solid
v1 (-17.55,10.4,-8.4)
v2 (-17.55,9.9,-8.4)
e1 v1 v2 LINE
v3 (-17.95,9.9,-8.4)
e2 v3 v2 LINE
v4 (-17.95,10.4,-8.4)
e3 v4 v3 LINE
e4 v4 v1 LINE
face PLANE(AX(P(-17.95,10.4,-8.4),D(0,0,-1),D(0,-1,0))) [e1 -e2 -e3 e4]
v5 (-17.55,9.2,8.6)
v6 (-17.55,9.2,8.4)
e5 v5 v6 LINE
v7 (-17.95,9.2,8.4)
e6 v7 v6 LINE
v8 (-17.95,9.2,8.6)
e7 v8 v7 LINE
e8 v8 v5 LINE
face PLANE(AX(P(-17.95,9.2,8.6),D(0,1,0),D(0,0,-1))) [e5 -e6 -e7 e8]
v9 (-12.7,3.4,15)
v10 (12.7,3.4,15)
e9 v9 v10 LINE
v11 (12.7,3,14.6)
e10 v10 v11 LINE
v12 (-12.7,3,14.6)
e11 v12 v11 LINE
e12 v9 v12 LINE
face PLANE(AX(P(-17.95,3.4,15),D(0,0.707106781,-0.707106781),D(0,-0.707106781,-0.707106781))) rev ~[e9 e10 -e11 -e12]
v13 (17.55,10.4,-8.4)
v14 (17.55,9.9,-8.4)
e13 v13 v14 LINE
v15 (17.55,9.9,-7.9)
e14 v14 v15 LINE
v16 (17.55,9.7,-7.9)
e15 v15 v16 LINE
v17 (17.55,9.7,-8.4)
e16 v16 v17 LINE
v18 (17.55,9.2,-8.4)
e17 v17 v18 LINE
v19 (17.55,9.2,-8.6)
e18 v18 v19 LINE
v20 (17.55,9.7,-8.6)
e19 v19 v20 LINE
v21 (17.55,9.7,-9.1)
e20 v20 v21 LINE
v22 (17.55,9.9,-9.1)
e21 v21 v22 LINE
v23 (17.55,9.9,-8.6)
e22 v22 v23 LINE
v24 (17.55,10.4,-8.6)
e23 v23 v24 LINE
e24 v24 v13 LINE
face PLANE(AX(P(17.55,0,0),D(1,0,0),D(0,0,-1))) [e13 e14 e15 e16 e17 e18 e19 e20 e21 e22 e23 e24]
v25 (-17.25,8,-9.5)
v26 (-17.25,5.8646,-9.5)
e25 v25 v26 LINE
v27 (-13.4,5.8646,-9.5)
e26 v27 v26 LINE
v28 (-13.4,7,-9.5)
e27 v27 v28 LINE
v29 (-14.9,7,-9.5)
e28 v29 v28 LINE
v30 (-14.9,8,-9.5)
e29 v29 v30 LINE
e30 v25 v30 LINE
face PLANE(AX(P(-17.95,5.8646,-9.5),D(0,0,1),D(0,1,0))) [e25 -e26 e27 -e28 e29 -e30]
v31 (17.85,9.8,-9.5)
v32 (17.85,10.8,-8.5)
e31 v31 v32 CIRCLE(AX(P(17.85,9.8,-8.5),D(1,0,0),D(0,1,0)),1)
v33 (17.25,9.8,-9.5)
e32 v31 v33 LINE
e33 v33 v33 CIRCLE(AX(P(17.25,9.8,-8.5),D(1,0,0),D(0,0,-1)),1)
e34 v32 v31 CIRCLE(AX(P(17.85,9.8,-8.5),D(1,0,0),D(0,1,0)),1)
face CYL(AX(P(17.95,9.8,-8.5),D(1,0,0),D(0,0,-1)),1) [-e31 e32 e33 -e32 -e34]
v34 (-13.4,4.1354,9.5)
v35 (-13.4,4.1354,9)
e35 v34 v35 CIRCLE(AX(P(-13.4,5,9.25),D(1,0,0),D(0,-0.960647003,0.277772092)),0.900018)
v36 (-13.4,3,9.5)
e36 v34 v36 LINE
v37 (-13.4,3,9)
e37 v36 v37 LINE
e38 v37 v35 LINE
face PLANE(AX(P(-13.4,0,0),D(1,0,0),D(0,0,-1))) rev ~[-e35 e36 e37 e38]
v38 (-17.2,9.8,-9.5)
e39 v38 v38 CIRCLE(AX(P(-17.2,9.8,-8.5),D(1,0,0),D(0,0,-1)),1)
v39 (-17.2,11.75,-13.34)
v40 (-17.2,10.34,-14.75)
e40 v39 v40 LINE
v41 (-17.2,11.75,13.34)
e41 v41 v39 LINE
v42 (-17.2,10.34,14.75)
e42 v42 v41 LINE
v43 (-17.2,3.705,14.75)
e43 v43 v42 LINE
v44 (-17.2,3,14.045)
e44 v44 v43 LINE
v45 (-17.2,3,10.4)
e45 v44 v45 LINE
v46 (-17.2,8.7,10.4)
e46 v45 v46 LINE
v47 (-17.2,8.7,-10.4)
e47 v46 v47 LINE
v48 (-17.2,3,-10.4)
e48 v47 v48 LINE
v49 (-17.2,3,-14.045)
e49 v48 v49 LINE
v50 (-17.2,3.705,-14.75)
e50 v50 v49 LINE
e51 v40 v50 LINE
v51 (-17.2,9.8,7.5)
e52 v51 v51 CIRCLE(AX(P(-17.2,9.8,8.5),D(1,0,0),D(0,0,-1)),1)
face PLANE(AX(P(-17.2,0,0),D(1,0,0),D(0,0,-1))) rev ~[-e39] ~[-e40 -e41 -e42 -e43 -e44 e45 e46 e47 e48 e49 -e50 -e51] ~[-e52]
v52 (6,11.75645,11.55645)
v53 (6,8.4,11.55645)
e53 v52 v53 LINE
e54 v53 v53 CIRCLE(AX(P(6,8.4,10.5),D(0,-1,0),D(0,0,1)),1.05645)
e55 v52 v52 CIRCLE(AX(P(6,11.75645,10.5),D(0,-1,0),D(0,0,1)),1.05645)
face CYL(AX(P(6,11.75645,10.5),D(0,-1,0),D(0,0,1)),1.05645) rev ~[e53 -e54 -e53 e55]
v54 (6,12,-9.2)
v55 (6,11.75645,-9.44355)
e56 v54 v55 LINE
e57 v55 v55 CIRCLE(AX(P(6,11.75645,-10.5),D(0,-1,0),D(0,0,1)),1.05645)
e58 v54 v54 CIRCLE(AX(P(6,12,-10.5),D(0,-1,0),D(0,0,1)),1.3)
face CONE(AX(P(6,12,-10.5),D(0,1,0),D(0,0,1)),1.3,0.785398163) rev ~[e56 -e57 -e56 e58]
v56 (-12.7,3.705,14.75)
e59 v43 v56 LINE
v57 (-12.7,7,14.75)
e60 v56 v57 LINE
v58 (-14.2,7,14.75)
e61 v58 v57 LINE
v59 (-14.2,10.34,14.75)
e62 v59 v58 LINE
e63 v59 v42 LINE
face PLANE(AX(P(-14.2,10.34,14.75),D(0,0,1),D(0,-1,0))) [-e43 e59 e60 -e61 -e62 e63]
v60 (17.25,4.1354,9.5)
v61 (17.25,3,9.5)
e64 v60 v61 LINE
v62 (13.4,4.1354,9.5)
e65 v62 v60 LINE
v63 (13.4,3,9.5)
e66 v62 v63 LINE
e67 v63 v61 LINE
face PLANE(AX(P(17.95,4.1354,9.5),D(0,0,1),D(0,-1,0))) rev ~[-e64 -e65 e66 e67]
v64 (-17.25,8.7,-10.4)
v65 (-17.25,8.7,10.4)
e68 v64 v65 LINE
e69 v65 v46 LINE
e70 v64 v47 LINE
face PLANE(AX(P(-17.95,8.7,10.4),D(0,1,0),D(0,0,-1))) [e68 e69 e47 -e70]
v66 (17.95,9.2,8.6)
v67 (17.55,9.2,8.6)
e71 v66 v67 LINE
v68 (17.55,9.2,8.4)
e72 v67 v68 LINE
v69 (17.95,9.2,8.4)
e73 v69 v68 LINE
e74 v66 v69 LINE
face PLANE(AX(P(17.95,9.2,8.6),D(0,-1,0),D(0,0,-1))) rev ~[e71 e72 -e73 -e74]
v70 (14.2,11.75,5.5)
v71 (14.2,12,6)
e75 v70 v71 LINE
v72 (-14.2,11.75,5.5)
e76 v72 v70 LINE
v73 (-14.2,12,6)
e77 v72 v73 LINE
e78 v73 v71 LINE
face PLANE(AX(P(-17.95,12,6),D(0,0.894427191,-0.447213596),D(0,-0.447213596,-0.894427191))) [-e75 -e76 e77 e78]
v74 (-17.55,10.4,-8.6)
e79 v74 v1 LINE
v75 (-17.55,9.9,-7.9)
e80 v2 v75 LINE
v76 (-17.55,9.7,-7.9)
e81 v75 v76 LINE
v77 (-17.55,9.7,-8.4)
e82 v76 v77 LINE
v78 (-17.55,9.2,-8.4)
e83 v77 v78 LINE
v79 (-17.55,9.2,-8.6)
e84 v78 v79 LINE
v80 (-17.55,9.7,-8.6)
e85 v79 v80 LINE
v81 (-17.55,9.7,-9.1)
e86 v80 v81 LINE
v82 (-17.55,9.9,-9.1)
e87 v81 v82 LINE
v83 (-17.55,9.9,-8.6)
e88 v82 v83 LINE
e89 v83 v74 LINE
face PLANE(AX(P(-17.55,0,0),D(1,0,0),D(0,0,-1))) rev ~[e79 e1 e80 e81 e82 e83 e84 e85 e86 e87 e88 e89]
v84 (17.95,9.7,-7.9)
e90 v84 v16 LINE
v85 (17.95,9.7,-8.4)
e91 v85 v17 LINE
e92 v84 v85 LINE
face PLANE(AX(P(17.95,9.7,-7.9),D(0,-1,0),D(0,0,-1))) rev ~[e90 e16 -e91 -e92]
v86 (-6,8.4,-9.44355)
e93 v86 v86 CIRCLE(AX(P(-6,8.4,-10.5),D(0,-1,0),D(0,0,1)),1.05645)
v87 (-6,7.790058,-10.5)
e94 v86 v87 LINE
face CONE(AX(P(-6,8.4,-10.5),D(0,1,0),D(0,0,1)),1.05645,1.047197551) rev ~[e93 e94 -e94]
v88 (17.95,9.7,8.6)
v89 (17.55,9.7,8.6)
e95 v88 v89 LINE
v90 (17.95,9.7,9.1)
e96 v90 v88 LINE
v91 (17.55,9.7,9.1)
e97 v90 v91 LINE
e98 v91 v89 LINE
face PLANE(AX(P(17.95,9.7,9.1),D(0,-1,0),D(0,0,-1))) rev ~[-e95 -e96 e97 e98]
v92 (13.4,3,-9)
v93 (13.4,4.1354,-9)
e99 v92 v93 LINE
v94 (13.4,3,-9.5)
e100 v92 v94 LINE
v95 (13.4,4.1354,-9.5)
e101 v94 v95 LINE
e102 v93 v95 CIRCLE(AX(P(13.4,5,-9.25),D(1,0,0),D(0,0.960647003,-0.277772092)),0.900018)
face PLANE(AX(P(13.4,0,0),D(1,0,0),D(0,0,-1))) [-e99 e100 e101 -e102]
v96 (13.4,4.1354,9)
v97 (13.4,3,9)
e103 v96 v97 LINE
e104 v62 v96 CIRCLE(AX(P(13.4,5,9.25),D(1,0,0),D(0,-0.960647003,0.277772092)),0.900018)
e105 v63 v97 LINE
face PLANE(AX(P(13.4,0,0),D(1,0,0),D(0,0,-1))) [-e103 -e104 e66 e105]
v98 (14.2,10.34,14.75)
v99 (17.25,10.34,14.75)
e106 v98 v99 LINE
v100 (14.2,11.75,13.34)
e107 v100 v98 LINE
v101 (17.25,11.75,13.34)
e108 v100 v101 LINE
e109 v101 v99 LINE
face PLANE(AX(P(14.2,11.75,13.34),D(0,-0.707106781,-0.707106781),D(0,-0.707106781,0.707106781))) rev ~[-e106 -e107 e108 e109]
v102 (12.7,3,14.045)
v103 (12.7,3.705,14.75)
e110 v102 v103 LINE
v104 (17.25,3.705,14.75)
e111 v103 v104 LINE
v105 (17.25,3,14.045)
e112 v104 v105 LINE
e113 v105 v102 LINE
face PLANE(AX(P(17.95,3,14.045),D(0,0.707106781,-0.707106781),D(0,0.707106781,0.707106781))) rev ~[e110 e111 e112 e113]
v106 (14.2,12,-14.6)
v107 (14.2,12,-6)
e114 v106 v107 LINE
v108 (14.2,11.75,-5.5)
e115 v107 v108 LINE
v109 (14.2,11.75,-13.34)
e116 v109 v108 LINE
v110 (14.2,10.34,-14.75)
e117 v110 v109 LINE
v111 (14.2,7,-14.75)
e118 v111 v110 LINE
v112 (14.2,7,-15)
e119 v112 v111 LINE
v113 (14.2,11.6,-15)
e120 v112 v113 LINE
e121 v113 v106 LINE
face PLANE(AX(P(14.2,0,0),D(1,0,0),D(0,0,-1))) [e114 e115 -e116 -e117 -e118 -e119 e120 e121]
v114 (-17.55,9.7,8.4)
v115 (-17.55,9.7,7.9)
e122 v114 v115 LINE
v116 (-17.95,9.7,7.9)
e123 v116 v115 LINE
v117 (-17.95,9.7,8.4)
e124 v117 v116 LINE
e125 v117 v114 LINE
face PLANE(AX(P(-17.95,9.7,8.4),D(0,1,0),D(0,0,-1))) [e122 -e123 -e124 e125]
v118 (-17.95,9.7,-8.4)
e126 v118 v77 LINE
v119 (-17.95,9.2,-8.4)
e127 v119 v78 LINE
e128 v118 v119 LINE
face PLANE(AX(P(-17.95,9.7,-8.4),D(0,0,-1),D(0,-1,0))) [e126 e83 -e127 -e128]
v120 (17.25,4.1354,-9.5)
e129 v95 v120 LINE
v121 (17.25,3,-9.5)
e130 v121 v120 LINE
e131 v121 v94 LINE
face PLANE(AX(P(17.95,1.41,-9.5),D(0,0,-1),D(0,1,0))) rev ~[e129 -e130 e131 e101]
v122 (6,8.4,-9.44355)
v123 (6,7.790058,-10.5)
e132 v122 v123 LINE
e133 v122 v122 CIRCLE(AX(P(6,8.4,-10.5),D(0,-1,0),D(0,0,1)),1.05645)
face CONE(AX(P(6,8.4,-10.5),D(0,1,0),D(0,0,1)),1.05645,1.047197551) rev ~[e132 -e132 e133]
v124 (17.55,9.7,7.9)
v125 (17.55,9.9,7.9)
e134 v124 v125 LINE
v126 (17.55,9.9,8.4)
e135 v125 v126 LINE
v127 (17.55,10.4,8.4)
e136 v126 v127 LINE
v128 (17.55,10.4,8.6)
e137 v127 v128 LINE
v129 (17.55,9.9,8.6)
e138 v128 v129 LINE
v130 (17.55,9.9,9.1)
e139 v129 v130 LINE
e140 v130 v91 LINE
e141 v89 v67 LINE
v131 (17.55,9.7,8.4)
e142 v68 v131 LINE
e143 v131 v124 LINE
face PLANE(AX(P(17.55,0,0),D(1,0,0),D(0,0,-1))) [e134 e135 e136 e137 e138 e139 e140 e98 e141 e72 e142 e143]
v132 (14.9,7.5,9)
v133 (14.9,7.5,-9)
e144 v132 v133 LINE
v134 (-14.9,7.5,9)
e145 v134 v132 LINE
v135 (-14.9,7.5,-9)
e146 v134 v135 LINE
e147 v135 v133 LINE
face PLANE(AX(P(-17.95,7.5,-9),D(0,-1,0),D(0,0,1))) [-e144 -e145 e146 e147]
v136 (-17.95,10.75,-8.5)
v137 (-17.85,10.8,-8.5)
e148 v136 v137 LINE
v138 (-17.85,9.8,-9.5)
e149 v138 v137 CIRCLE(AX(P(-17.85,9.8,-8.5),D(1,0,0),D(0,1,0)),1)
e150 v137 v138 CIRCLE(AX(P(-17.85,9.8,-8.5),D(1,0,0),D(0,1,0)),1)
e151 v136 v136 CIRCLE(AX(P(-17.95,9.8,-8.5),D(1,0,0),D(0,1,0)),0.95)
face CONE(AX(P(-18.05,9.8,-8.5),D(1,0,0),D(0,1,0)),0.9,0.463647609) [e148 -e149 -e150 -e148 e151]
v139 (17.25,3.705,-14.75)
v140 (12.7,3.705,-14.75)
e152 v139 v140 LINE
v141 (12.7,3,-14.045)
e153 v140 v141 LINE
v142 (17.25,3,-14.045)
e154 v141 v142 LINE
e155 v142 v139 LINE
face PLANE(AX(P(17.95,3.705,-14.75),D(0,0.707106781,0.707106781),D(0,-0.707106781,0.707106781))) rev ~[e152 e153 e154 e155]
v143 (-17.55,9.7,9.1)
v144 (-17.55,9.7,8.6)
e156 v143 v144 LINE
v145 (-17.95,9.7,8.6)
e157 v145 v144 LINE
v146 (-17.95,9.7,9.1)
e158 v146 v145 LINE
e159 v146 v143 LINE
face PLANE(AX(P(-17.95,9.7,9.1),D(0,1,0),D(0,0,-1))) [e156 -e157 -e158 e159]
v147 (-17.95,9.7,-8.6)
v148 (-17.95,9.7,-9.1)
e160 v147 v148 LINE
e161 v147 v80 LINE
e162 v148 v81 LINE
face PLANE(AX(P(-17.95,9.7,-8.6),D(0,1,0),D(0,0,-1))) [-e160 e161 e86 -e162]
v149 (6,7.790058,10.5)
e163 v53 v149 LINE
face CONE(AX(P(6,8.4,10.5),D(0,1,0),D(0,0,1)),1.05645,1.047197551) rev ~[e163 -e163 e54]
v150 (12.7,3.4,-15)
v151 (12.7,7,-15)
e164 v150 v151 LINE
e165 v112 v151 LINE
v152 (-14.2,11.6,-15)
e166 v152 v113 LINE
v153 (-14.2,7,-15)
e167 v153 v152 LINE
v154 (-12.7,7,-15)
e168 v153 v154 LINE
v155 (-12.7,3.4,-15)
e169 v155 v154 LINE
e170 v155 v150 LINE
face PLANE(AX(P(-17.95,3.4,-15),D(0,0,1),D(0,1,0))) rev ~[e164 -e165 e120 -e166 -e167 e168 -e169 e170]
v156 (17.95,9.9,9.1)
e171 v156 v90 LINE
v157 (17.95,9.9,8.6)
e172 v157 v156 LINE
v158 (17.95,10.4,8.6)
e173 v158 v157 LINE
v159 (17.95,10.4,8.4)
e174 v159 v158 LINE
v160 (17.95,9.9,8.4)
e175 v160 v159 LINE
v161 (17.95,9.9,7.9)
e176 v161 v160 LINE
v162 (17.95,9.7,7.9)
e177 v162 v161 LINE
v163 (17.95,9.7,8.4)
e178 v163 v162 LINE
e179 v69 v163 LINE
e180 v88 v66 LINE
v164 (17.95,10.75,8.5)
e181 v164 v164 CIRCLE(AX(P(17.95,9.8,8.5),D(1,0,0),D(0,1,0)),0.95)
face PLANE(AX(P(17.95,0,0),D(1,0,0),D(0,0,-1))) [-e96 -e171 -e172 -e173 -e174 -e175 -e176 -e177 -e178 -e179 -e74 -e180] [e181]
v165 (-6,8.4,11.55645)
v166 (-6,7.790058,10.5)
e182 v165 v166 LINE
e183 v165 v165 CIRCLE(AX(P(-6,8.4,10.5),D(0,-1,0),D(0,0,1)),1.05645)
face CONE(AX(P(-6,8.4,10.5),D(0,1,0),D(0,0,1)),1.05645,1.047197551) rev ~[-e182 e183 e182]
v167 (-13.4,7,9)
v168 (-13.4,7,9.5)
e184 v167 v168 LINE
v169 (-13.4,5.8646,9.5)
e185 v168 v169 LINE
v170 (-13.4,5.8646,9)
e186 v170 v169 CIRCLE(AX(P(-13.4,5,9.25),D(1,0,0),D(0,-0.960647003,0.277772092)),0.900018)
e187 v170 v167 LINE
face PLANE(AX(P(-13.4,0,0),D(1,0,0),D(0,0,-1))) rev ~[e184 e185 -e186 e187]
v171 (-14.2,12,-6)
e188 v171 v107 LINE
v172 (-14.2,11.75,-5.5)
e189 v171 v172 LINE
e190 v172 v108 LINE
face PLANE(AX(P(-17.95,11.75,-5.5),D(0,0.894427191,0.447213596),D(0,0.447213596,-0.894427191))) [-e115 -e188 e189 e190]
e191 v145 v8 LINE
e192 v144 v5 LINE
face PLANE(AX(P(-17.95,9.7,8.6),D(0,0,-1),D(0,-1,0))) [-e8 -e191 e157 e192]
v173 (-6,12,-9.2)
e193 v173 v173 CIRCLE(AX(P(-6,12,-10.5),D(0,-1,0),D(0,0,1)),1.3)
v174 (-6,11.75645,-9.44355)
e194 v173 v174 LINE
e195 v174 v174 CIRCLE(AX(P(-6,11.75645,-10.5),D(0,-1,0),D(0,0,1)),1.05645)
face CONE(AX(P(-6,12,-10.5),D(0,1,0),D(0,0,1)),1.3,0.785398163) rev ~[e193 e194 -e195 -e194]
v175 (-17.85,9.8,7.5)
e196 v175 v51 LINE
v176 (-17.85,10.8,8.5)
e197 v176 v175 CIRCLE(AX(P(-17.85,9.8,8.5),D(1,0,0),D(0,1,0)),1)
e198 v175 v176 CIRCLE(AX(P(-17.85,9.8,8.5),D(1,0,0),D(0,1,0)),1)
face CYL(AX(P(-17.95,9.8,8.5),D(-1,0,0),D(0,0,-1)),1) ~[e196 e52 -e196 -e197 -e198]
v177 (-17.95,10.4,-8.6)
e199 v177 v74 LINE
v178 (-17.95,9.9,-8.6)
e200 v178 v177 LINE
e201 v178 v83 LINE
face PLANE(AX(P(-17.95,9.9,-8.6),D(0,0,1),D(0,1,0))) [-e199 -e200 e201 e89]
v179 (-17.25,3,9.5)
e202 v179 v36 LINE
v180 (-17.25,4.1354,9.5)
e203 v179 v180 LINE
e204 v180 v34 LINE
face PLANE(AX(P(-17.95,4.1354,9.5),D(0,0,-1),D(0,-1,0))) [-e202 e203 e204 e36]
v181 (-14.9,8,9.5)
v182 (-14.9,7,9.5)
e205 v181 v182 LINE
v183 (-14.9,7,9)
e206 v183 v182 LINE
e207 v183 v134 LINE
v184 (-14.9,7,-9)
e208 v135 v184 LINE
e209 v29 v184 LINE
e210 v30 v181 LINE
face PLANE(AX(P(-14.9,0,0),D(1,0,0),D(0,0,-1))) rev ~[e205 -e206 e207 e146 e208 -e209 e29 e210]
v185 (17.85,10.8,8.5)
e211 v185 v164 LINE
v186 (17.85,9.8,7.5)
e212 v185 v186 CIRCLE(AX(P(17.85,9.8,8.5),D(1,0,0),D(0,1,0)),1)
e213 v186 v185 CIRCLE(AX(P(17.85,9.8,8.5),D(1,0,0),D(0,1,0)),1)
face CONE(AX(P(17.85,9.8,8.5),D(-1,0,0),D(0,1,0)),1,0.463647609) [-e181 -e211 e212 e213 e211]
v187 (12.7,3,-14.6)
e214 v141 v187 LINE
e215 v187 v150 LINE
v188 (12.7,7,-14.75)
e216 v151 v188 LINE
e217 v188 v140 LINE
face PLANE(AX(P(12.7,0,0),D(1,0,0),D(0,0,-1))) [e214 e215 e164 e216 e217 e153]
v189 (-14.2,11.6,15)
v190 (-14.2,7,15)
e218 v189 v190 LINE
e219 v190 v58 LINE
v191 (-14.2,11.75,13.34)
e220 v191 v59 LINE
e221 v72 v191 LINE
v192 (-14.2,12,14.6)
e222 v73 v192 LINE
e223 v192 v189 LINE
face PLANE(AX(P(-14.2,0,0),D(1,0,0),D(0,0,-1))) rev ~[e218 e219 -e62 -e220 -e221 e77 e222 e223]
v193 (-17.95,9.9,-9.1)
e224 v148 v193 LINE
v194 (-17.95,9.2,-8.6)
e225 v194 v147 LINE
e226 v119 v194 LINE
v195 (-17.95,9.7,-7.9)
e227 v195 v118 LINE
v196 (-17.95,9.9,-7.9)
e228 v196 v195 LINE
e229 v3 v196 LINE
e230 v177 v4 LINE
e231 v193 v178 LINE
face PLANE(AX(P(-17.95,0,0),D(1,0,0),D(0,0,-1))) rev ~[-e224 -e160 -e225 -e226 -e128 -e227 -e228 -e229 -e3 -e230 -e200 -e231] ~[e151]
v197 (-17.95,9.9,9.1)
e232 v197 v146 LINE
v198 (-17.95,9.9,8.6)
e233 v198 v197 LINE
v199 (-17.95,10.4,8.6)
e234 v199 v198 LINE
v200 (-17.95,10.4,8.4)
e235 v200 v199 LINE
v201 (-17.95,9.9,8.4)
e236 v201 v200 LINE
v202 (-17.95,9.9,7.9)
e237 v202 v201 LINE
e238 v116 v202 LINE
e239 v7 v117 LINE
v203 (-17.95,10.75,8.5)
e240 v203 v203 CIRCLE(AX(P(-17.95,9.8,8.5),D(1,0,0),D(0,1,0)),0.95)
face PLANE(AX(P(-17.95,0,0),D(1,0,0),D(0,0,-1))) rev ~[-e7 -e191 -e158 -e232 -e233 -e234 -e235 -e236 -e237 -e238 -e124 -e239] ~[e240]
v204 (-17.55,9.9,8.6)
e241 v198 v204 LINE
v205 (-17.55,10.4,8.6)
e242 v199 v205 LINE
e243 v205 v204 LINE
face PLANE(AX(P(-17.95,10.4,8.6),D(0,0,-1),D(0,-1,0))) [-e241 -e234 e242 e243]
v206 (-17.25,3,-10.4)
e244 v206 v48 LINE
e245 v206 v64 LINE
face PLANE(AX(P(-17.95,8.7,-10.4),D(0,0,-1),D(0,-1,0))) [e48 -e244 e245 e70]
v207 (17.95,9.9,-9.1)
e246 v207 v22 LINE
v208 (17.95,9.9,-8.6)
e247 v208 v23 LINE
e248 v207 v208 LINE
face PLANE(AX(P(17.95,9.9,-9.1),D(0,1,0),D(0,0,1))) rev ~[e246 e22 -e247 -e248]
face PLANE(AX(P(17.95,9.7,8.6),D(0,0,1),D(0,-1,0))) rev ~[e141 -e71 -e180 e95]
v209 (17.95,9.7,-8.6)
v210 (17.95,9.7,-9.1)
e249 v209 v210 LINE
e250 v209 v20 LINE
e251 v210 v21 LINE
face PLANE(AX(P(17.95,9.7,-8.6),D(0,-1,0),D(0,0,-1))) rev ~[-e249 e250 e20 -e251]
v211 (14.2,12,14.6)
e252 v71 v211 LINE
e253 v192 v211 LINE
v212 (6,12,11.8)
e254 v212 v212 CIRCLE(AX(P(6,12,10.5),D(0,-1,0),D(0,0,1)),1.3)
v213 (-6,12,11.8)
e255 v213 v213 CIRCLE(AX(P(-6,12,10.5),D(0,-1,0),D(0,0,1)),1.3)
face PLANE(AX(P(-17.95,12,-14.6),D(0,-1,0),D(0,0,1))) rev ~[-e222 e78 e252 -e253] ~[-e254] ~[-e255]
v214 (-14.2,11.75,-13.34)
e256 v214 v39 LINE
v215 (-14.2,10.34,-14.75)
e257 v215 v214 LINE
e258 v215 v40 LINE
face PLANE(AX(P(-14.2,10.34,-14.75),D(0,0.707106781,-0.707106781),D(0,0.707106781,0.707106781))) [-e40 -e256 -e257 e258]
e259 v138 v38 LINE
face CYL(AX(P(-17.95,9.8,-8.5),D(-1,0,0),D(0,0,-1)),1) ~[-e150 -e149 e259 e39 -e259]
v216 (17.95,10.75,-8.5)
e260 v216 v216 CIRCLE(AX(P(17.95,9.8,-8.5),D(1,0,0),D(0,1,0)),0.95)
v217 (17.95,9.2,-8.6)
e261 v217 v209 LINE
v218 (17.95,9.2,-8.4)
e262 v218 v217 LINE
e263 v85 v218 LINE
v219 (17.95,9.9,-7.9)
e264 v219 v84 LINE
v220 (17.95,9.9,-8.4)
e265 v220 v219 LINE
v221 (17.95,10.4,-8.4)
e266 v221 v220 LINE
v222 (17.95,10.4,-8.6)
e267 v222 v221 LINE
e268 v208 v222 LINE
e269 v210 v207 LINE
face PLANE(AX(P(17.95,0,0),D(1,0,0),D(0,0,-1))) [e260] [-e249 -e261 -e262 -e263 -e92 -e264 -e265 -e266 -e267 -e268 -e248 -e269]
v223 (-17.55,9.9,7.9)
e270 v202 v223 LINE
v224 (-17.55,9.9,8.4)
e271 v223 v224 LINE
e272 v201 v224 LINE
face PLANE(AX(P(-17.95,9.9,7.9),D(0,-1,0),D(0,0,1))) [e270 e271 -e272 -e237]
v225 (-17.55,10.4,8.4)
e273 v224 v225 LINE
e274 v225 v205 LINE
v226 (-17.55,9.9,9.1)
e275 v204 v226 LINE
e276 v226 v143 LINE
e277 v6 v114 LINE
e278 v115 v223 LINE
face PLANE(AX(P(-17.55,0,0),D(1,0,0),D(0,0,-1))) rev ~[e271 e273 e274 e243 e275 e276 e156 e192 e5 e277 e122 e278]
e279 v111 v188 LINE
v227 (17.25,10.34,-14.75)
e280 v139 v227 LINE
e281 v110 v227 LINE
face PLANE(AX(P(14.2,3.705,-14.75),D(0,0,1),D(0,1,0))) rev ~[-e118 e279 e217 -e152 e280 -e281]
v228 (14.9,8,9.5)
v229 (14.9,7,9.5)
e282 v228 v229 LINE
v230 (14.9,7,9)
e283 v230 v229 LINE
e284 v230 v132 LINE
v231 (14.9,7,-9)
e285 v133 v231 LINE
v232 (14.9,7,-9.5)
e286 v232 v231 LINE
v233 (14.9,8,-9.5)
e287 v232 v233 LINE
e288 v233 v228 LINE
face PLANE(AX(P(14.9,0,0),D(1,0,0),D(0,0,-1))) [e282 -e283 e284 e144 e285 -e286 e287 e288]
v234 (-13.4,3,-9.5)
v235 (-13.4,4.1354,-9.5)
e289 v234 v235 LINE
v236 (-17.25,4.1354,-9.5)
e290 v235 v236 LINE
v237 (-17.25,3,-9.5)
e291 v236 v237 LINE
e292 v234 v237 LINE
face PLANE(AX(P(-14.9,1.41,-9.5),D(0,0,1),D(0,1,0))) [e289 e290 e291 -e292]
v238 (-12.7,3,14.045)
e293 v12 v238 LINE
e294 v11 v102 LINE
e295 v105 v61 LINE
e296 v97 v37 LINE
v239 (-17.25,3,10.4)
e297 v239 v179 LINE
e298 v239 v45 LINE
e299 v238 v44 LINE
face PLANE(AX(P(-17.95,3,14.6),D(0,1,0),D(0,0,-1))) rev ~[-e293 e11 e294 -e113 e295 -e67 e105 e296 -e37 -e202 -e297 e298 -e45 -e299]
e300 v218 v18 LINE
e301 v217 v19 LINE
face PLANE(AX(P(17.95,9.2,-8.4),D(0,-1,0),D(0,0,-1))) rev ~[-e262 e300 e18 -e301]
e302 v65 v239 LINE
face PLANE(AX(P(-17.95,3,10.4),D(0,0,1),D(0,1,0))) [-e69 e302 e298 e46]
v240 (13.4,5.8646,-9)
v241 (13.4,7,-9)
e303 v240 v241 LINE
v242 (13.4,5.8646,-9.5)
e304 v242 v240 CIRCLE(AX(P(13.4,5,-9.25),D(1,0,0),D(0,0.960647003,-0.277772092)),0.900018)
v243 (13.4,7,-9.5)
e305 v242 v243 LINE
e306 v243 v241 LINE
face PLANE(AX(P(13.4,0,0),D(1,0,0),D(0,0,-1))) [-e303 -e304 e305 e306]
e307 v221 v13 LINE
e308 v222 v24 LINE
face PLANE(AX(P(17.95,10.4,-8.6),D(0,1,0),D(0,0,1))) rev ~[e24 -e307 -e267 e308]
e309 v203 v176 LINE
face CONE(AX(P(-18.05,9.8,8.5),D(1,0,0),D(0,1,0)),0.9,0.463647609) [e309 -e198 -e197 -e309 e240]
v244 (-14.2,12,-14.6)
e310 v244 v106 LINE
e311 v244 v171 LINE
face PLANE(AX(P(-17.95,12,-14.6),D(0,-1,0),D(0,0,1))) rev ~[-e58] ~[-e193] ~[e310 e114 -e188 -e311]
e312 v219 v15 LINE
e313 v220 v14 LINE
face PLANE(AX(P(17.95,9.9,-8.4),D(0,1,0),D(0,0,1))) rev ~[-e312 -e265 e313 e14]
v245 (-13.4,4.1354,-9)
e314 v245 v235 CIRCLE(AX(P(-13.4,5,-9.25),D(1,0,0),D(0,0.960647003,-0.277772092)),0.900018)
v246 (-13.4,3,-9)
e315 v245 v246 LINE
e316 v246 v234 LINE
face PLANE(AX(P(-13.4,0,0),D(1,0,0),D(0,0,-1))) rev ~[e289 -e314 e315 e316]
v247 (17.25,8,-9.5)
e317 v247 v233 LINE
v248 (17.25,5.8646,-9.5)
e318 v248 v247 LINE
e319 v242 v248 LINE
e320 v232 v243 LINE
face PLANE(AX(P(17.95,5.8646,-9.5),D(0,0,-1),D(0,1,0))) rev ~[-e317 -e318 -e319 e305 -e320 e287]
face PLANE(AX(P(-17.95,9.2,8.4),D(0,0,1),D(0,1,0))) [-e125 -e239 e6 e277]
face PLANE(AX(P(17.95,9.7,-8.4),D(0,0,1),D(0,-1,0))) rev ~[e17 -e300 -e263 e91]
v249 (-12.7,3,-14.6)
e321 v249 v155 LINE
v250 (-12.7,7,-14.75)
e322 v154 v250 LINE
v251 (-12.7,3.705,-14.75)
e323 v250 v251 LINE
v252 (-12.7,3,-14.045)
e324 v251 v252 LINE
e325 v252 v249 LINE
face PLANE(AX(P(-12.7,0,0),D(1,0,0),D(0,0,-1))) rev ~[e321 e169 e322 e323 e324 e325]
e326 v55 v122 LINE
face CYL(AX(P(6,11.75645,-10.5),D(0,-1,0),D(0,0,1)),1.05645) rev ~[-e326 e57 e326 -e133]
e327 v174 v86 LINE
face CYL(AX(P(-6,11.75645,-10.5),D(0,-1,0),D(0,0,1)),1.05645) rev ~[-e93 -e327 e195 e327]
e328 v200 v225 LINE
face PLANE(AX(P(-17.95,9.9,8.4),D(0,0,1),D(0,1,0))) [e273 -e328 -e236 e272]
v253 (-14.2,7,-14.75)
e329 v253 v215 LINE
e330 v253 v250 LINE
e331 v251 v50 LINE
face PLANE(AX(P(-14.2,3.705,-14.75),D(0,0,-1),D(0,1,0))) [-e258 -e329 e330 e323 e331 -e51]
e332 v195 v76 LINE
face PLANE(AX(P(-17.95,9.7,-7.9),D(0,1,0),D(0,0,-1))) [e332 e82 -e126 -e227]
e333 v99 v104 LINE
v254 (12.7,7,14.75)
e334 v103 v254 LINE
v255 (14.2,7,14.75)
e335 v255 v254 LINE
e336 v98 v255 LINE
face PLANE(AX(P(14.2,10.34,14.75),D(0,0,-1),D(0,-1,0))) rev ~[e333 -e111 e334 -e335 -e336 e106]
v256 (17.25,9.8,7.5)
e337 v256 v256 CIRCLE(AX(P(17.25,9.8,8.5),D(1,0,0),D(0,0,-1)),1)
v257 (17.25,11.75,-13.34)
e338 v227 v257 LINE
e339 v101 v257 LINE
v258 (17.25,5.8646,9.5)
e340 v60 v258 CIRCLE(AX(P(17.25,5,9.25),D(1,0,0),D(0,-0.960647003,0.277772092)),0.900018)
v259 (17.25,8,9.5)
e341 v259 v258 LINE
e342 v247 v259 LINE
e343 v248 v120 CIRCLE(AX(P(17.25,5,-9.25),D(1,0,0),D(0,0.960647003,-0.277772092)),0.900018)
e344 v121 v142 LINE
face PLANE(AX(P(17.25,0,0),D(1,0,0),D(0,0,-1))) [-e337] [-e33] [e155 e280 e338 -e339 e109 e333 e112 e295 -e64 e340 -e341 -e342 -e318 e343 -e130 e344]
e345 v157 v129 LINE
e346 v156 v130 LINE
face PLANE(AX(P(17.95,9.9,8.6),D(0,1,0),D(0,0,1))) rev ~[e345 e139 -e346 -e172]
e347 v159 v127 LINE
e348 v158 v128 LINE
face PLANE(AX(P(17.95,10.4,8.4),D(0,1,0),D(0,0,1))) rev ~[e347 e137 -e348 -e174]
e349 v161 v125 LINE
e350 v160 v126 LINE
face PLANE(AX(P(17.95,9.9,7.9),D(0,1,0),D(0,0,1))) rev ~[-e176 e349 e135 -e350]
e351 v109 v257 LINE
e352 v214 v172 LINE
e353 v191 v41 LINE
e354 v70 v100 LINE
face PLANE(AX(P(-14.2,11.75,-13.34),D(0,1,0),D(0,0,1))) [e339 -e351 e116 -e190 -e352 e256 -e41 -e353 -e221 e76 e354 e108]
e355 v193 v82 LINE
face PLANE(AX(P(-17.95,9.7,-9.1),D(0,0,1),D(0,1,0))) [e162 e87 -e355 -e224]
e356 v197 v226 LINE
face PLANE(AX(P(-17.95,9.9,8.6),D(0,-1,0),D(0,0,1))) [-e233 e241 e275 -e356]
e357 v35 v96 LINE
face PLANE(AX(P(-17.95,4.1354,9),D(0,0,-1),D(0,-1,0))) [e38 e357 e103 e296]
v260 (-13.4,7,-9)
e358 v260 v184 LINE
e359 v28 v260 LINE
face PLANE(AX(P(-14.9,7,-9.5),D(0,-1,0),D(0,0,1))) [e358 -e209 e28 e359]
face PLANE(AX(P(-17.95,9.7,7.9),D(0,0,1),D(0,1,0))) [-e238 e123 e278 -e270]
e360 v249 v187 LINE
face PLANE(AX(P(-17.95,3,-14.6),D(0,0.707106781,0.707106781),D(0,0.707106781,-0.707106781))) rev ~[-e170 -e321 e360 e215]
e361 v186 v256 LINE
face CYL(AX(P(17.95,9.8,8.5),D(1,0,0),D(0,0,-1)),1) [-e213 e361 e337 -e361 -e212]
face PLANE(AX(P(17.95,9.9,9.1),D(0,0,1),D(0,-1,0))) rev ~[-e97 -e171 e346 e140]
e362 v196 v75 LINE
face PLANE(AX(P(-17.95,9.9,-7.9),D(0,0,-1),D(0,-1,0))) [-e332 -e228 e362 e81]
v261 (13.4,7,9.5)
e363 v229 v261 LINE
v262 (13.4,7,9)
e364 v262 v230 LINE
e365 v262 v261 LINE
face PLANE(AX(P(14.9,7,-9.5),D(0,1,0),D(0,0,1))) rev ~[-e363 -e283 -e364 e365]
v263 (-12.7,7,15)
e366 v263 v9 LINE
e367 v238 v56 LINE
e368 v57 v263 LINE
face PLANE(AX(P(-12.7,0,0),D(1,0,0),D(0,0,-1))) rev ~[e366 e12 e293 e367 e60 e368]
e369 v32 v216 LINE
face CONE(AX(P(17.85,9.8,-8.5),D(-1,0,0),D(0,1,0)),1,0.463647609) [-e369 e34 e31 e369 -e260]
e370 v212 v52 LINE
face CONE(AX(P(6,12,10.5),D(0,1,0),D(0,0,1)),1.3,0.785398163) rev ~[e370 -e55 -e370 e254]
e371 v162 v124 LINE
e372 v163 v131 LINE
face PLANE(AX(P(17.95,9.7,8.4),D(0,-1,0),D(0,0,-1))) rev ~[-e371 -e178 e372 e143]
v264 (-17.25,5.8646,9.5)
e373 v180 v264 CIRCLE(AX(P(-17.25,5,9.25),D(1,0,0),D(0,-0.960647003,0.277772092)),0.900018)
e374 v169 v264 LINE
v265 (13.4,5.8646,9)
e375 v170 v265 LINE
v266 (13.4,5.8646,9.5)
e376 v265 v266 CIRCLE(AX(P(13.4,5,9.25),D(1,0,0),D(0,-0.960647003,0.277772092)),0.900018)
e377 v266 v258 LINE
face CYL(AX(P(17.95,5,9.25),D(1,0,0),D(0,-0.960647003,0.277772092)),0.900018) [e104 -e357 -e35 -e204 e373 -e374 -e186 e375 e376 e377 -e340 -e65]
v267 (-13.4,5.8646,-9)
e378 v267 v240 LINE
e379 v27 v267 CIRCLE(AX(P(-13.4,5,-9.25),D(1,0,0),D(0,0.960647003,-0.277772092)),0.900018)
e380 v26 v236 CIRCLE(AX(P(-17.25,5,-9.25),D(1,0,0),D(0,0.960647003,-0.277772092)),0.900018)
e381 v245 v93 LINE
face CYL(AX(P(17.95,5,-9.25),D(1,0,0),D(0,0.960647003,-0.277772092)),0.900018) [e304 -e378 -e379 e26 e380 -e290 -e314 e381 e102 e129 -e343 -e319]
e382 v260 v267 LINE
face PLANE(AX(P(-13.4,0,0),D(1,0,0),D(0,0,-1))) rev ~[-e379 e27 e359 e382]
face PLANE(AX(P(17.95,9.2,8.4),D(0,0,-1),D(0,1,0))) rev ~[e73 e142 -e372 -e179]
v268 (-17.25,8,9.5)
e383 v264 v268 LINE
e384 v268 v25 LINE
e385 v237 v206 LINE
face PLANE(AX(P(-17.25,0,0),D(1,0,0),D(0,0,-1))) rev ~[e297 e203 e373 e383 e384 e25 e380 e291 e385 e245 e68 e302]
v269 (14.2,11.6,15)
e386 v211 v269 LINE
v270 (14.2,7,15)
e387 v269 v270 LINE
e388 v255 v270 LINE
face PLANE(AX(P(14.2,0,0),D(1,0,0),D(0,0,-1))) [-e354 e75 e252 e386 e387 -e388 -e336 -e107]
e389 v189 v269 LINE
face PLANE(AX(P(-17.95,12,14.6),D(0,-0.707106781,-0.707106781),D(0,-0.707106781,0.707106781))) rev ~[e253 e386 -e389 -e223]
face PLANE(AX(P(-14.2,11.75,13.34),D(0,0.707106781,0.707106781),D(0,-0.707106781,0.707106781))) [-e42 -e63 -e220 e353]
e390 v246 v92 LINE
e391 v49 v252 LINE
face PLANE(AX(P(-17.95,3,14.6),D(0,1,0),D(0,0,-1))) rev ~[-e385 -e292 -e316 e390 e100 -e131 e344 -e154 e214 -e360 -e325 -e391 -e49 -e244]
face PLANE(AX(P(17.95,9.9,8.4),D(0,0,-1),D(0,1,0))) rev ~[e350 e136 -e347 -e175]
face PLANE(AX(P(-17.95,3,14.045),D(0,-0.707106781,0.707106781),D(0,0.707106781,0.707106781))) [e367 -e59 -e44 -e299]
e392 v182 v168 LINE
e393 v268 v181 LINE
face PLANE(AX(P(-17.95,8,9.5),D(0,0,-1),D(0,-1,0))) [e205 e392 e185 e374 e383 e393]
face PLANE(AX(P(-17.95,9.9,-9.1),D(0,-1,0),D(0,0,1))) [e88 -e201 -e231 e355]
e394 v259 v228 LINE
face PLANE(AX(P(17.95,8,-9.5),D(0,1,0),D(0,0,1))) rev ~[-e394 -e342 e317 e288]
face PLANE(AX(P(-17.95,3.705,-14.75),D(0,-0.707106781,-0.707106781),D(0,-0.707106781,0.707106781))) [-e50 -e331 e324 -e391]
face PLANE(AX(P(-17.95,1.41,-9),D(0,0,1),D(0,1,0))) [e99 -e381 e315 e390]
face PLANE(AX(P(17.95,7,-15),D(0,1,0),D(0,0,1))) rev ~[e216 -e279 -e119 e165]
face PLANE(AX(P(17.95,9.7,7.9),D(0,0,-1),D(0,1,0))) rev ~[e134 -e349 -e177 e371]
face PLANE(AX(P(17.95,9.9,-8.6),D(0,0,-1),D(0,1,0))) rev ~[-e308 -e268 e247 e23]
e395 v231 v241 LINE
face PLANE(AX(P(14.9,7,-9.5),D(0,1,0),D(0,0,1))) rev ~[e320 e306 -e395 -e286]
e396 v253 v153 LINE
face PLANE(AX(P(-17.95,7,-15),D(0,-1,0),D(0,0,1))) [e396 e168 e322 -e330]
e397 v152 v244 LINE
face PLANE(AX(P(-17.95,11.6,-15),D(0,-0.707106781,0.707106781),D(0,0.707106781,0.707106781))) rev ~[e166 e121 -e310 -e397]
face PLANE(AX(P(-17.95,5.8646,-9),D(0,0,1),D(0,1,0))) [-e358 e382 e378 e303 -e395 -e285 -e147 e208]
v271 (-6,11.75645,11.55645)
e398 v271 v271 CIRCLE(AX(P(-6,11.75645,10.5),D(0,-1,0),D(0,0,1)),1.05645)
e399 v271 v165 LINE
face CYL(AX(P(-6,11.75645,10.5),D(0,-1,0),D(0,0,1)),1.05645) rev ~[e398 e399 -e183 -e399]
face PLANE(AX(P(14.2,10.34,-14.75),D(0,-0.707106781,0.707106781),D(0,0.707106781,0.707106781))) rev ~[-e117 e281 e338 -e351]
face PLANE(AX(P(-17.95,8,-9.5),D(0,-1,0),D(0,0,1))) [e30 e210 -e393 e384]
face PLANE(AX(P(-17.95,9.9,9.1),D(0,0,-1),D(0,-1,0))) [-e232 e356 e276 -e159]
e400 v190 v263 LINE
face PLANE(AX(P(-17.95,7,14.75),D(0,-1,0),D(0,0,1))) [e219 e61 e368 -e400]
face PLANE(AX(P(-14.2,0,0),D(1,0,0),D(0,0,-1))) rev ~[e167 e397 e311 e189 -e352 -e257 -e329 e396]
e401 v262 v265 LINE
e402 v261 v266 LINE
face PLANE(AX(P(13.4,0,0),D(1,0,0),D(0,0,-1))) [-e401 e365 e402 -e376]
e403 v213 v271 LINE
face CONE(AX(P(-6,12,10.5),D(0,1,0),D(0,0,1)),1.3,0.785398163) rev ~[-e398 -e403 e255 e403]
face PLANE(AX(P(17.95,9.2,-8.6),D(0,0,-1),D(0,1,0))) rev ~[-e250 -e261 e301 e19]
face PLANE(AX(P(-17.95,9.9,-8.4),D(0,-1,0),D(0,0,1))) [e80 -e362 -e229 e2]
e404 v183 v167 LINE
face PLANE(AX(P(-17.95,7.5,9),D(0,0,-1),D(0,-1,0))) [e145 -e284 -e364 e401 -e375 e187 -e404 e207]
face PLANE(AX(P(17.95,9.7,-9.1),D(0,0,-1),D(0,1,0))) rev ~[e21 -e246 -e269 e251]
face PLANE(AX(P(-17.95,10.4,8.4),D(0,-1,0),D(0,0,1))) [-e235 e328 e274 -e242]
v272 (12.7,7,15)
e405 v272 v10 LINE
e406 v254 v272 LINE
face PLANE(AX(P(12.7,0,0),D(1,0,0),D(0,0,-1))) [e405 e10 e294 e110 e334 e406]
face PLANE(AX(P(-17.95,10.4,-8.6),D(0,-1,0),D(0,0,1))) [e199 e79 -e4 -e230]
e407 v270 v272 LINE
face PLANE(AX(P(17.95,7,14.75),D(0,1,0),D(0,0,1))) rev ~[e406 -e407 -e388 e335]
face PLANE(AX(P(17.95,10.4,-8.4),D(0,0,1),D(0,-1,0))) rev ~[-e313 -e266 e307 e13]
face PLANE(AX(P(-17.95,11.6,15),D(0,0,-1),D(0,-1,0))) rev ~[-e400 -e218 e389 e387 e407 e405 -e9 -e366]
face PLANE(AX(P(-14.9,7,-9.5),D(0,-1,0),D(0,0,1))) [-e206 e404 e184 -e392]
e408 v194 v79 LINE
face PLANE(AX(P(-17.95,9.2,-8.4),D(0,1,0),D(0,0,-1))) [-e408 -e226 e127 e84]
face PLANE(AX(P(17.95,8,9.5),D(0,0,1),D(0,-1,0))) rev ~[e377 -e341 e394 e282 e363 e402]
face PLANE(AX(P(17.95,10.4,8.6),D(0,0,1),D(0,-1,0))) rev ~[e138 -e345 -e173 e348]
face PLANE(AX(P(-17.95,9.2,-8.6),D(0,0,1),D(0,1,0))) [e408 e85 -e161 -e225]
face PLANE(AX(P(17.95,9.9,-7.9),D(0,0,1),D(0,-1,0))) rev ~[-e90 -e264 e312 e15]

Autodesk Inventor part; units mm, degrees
sketch "Sketch_29" plane through (-17.95, 0, 0) normal (1, 0, 0) x (0, 0, -1)
  line L0 (-15, 11.6) -> (-15, 3.4)
  line L1 (-15, 3.4) -> (-14.6, 3)
  line L2 (-14.6, 3) -> (14.6, 3)
  line L3 (14.6, 3) -> (15, 3.4)
  line L4 (15, 3.4) -> (15, 11.6)
  line L5 (15, 11.6) -> (14.6, 12)
  line L6 (14.6, 12) -> (-14.6, 12)
  line L7 (-14.6, 12) -> (-15, 11.6)
extrude "Extrusion1" add sketch "Sketch_29" along normal blind 35.9
sketch "Sketch2" plane through (-17.95, 12, 14.6) normal (0, 1, 0) x (1, 0, 0)
  point P0 (11.95, 4.1)
hole "Hole1" at (-6, 12, 10.5) direction (0, -1, 0) diameter 2.1129 depth 3.6 tip angle 120 countersink diameter 2.6 countersink angle 90 thread size "M2.6x0.45" class "6H" standard "ISO Metric profile"
sketch "Sketch3" plane through (-17.95, 12, 14.6) normal (0, 1, 0) x (1, 0, 0)
  point P0 (23.95, 4.1)
hole "Hole2" at (6, 12, 10.5) direction (0, -1, 0) diameter 2.1129 depth 3.6 tip angle 120 countersink diameter 2.6 countersink angle 90 thread size "M2.6x0.45" class "6H" standard "ISO Metric profile"
sketch "Sketch4" plane through (-17.95, 12, 14.6) normal (0, 1, 0) x (1, 0, 0)
  point P0 (11.95, 25.1)
hole "Hole3" at (-6, 12, -10.5) direction (0, -1, 0) diameter 2.1129 depth 3.6 tip angle 120 countersink diameter 2.6 countersink angle 90 thread size "M2.6x0.45" class "6H" standard "ISO Metric profile"
sketch "Sketch5" plane through (-17.95, 12, 14.6) normal (0, 1, 0) x (1, 0, 0)
  point P0 (23.95, 25.1)
hole "Hole4" at (6, 12, -10.5) direction (0, -1, 0) diameter 2.1129 depth 3.6 tip angle 120 countersink diameter 2.6 countersink angle 90 thread size "M2.6x0.45" class "6H" standard "ISO Metric profile"
sketch "Sketch_23" plane through (14.2, 0, 0) normal (1, 0, 0) x (0, 0, -1)
  line L0 (-15, 2.25) -> (15, 2.25)
  line L1 (15, 2.25) -> (15, 12)
  line L2 (15, 12) -> (-15, 12)
  line L3 (-15, 12) -> (-15, 2.25)
  line L4 (-14.75, 10.34) -> (-14.75, 3.705)
  line L5 (-14.75, 3.705) -> (-14.045, 3)
  line L6 (-14.045, 3) -> (14.045, 3)
  line L7 (14.045, 3) -> (14.75, 3.705)
  line L8 (14.75, 3.705) -> (14.75, 10.34)
  line L9 (14.75, 10.34) -> (13.34, 11.75)
  line L10 (13.34, 11.75) -> (-13.34, 11.75)
  line L11 (-13.34, 11.75) -> (-14.75, 10.34)
extrude "Extrusion2" cut sketch "Sketch_23" along normal blind 28.4
sketch "Sketch_26" plane through (-14.2, 0, 0) normal (1, 0, 0) x (0, 0, -1)
  line L0 (-15, 2.25) -> (15, 2.25)
  line L1 (15, 2.25) -> (15, 12)
  line L2 (15, 12) -> (-15, 12)
  line L3 (-15, 12) -> (-15, 2.25)
  line L4 (-14.75, 10.34) -> (-14.75, 3.705)
  line L5 (-14.75, 3.705) -> (-14.045, 3)
  line L6 (-14.045, 3) -> (14.045, 3)
  line L7 (14.045, 3) -> (14.75, 3.705)
  line L8 (14.75, 3.705) -> (14.75, 10.34)
  line L9 (14.75, 10.34) -> (13.34, 11.75)
  line L10 (13.34, 11.75) -> (-13.34, 11.75)
  line L11 (-13.34, 11.75) -> (-14.75, 10.34)
extrude "Extrusion3" cut sketch "Sketch_26" against normal blind 28.4
sketch "Sketch_39" plane through (-17.95, 0, 0) normal (1, 0, 0) x (0, 0, -1)
  line L0 (-15, 7) -> (-15, 2)
  line L1 (-15, 2) -> (15, 2)
  line L2 (15, 2) -> (15, 7)
  line L3 (15, 7) -> (14.75, 7)
  line L4 (14.75, 7) -> (14.75, 3.705)
  line L5 (14.75, 3.705) -> (14.045, 3)
  line L6 (14.045, 3) -> (-14.045, 3)
  line L7 (-14.045, 3) -> (-14.75, 3.705)
  line L8 (-14.75, 3.705) -> (-14.75, 7)
  line L9 (-14.75, 7) -> (-15, 7)
extrude "Extrusion4" cut sketch "Sketch_39" along normal blind 5.25
sketch "Sketch_40" plane through (17.95, 0, 0) normal (1, 0, 0) x (0, 0, -1)
  line L0 (-15, 7) -> (-15, 2)
  line L1 (-15, 2) -> (15, 2)
  line L2 (15, 2) -> (15, 7)
  line L3 (15, 7) -> (14.75, 7)
  line L4 (14.75, 7) -> (14.75, 3.705)
  line L5 (14.75, 3.705) -> (14.045, 3)
  line L6 (14.045, 3) -> (-14.045, 3)
  line L7 (-14.045, 3) -> (-14.75, 3.705)
  line L8 (-14.75, 3.705) -> (-14.75, 7)
  line L9 (-14.75, 7) -> (-15, 7)
extrude "Extrusion5" cut sketch "Sketch_40" against normal blind 5.25
sketch "Sketch_42" plane through (-17.95, 0, 0) normal (1, 0, 0) x (0, 0, -1)
  line L0 (-6, 12) -> (-5.5, 11.75)
  line L1 (-5.5, 11.75) -> (5.5, 11.75)
  line L2 (5.5, 11.75) -> (6, 12)
  line L3 (6, 12) -> (-6, 12)
extrude "Extrusion6" cut sketch "Sketch_42" along normal blind 38
sketch "Sketch_107" plane through (-17.95, 0, 0) normal (1, 0, 0) x (0, 0, -1)
  line L0 (-15, 3) -> (15, 3)
  line L1 (15, 3) -> (15, 12)
  line L2 (15, 12) -> (-15, 12)
  line L3 (-15, 12) -> (-15, 3)
  circle A0 centre (8.5, 9.8) radius 1
  circle A1 centre (-8.5, 9.8) radius 1
extrude "Extrusion7" cut sketch "Sketch_107" along normal blind 0.7
sketch "Sketch_108" plane through (17.95, 0, 0) normal (1, 0, 0) x (0, 0, -1)
  line L0 (-15, 3) -> (15, 3)
  line L1 (15, 3) -> (15, 12)
  line L2 (15, 12) -> (-15, 12)
  line L3 (-15, 12) -> (-15, 3)
  circle A0 centre (8.5, 9.8) radius 1
  circle A1 centre (-8.5, 9.8) radius 1
extrude "Extrusion8" cut sketch "Sketch_108" against normal blind 0.7
sketch "Sketch_109" plane through (-17.95, 0, 0) normal (1, 0, 0) x (0, 0, -1)
  line L0 (-9.1, 9.7) -> (-8.6, 9.7)
  line L1 (-8.6, 9.7) -> (-8.6, 9.2)
  line L2 (-8.6, 9.2) -> (-8.4, 9.2)
  line L3 (-8.4, 9.2) -> (-8.4, 9.7)
  line L4 (-8.4, 9.7) -> (-7.9, 9.7)
  line L5 (-7.9, 9.7) -> (-7.9, 9.9)
  line L6 (-7.9, 9.9) -> (-8.4, 9.9)
  line L7 (-8.4, 9.9) -> (-8.4, 10.4)
  line L8 (-8.4, 10.4) -> (-8.6, 10.4)
  line L9 (-8.6, 10.4) -> (-8.6, 9.9)
  line L10 (-8.6, 9.9) -> (-9.1, 9.9)
  line L11 (-9.1, 9.9) -> (-9.1, 9.7)
extrude "Extrusion9" cut sketch "Sketch_109" along normal blind 0.4
sketch "Sketch_110" plane through (-17.95, 0, 0) normal (1, 0, 0) x (0, 0, -1)
  line L0 (7.9, 9.9) -> (7.9, 9.7)
  line L1 (7.9, 9.7) -> (8.4, 9.7)
  line L2 (8.4, 9.7) -> (8.4, 9.2)
  line L3 (8.4, 9.2) -> (8.6, 9.2)
  line L4 (8.6, 9.2) -> (8.6, 9.7)
  line L5 (8.6, 9.7) -> (9.1, 9.7)
  line L6 (9.1, 9.7) -> (9.1, 9.9)
  line L7 (9.1, 9.9) -> (8.6, 9.9)
  line L8 (8.6, 9.9) -> (8.6, 10.4)
  line L9 (8.6, 10.4) -> (8.4, 10.4)
  line L10 (8.4, 10.4) -> (8.4, 9.9)
  line L11 (8.4, 9.9) -> (7.9, 9.9)
extrude "Extrusion10" cut sketch "Sketch_110" along normal blind 0.4
sketch "Sketch_111" plane through (17.95, 0, 0) normal (1, 0, 0) x (0, 0, -1)
  line L0 (-9.1, 9.7) -> (-8.6, 9.7)
  line L1 (-8.6, 9.7) -> (-8.6, 9.2)
  line L2 (-8.6, 9.2) -> (-8.4, 9.2)
  line L3 (-8.4, 9.2) -> (-8.4, 9.7)
  line L4 (-8.4, 9.7) -> (-7.9, 9.7)
  line L5 (-7.9, 9.7) -> (-7.9, 9.9)
  line L6 (-7.9, 9.9) -> (-8.4, 9.9)
  line L7 (-8.4, 9.9) -> (-8.4, 10.4)
  line L8 (-8.4, 10.4) -> (-8.6, 10.4)
  line L9 (-8.6, 10.4) -> (-8.6, 9.9)
  line L10 (-8.6, 9.9) -> (-9.1, 9.9)
  line L11 (-9.1, 9.9) -> (-9.1, 9.7)
extrude "Extrusion11" cut sketch "Sketch_111" against normal blind 0.4
sketch "Sketch_112" plane through (17.95, 0, 0) normal (1, 0, 0) x (0, 0, -1)
  line L0 (7.9, 9.9) -> (7.9, 9.7)
  line L1 (7.9, 9.7) -> (8.4, 9.7)
  line L2 (8.4, 9.7) -> (8.4, 9.2)
  line L3 (8.4, 9.2) -> (8.6, 9.2)
  line L4 (8.6, 9.2) -> (8.6, 9.7)
  line L5 (8.6, 9.7) -> (9.1, 9.7)
  line L6 (9.1, 9.7) -> (9.1, 9.9)
  line L7 (9.1, 9.9) -> (8.6, 9.9)
  line L8 (8.6, 9.9) -> (8.6, 10.4)
  line L9 (8.6, 10.4) -> (8.4, 10.4)
  line L10 (8.4, 10.4) -> (8.4, 9.9)
  line L11 (8.4, 9.9) -> (7.9, 9.9)
extrude "Extrusion12" cut sketch "Sketch_112" against normal blind 0.4
sketch "Sketch_113" plane through (0, 0, 8.5) normal (0, 0, 1) x (1, 0, 0)
  line L0 (-17.85, 9.8) -> (-18.05, 9.8)
  line L1 (-18.05, 10.7) -> (-17.85, 10.8)
  line L2 (-17.85, 10.8) -> (-18.05, 10.8)
  line L3 (-18.05, 10.8) -> (-18.05, 10.7)
revolve "Revolution1" cut sketch "Sketch_113" angle 360 about axis through (-17.85, 9.8, 8.5) along (1, 0, 0)
sketch "Sketch_114" plane through (0, 0, -8.5) normal (0, 0, 1) x (1, 0, 0)
  line L0 (-17.85, 9.8) -> (-18.05, 9.8)
  line L1 (-18.05, 10.7) -> (-17.85, 10.8)
  line L2 (-17.85, 10.8) -> (-18.05, 10.8)
  line L3 (-18.05, 10.8) -> (-18.05, 10.7)
revolve "Revolution2" cut sketch "Sketch_114" angle 360 about axis through (-17.85, 9.8, -8.5) along (1, 0, 0)
sketch "Sketch_115" plane through (0, 0, 8.5) normal (0, 0, 1) x (1, 0, 0)
  line L0 (18.05, 9.8) -> (17.85, 9.8)
  line L1 (17.85, 10.8) -> (18.05, 10.7)
  line L2 (18.05, 10.7) -> (18.05, 10.8)
  line L3 (18.05, 10.8) -> (17.85, 10.8)
revolve "Revolution3" cut sketch "Sketch_115" angle 360 about axis through (18.05, 9.8, 8.5) along (1, 0, 0)
sketch "Sketch_116" plane through (0, 0, -8.5) normal (0, 0, 1) x (1, 0, 0)
  line L0 (18.05, 9.8) -> (17.85, 9.8)
  line L1 (17.85, 10.8) -> (18.05, 10.7)
  line L2 (18.05, 10.7) -> (18.05, 10.8)
  line L3 (18.05, 10.8) -> (17.85, 10.8)
revolve "Revolution4" cut sketch "Sketch_116" angle 360 about axis through (18.05, 9.8, -8.5) along (1, 0, 0)
sketch "Sketch_121" plane through (-17.95, 0, 0) normal (1, 0, 0) x (0, 0, -1)
  line L0 (-15, 3) -> (-10.4, 3)
  line L1 (-10.4, 3) -> (-10.4, 8.7)
  line L2 (-10.4, 8.7) -> (10.4, 8.7)
  line L3 (10.4, 8.7) -> (10.4, 3)
  line L4 (10.4, 3) -> (15, 3)
  line L5 (15, 3) -> (15, 12)
  line L6 (15, 12) -> (-15, 12)
  line L7 (-15, 12) -> (-15, 3)
  circle A0 centre (8.5, 9.8) radius 1
  circle A1 centre (-8.5, 9.8) radius 1
extrude "Extrusion13" cut sketch "Sketch_121" along normal blind 0.75
sketch "Sketch_20" plane through (-17.95, 0, 0) normal (1, 0, 0) x (0, 0, -1)
  arc A0 (-9.5, 4.1354) -> (-9.5, 5.8646) centre (-9.25, 5) ccw
  line L0 (-9.5, 4.1354) -> (-9.5, 1.41)
  line L1 (-9.5, 1.41) -> (-8.09, 0)
  line L2 (-8.09, 0) -> (8.09, 0)
  line L3 (8.09, 0) -> (9.5, 1.41)
  line L4 (9.5, 1.41) -> (9.5, 4.1354)
  arc A1 (9.5, 5.8646) -> (9.5, 4.1354) centre (9.25, 5) ccw
  line L5 (9.5, 5.8646) -> (9.5, 8)
  line L6 (9.5, 8) -> (-9.5, 8)
  line L7 (-9.5, 8) -> (-9.5, 5.8646)
extrude "Extrusion14" cut sketch "Sketch_20" along normal blind 3.05
sketch "Sketch_21" plane through (17.95, 0, 0) normal (1, 0, 0) x (0, 0, -1)
  arc A0 (-9.5, 4.1354) -> (-9.5, 5.8646) centre (-9.25, 5) ccw
  line L0 (-9.5, 4.1354) -> (-9.5, 1.41)
  line L1 (-9.5, 1.41) -> (-8.09, 0)
  line L2 (-8.09, 0) -> (8.09, 0)
  line L3 (8.09, 0) -> (9.5, 1.41)
  line L4 (9.5, 1.41) -> (9.5, 4.1354)
  arc A1 (9.5, 5.8646) -> (9.5, 4.1354) centre (9.25, 5) ccw
  line L5 (9.5, 5.8646) -> (9.5, 8)
  line L6 (9.5, 8) -> (-9.5, 8)
  line L7 (-9.5, 8) -> (-9.5, 5.8646)
extrude "Extrusion15" cut sketch "Sketch_21" against normal blind 3.05
sketch "Sketch_24" plane through (-14.9, 0, 0) normal (1, 0, 0) x (0, 0, -1)
  arc A0 (-9.5, 4.1354) -> (-9.5, 5.8646) centre (-9.25, 5) ccw
  line L0 (-9.5, 4.1354) -> (-9.5, 1.41)
  line L1 (-9.5, 1.41) -> (-8.09, 0)
  line L2 (-8.09, 0) -> (8.09, 0)
  line L3 (8.09, 0) -> (9.5, 1.41)
  line L4 (9.5, 1.41) -> (9.5, 4.1354)
  arc A1 (9.5, 5.8646) -> (9.5, 4.1354) centre (9.25, 5) ccw
  line L5 (9.5, 5.8646) -> (9.5, 7)
  line L6 (9.5, 7) -> (-9.5, 7)
  line L7 (-9.5, 7) -> (-9.5, 5.8646)
extrude "Extrusion16" cut sketch "Sketch_24" along normal blind 1.5
sketch "Sketch_22" plane through (-17.95, 0, 0) normal (1, 0, 0) x (0, 0, -1)
  arc A0 (-9, 4.1354) -> (-9, 5.8646) centre (-9.25, 5) ccw
  line L0 (-9, 4.1354) -> (-9, 1.41)
  line L1 (-9, 1.41) -> (-7.59, 0)
  line L2 (-7.59, 0) -> (7.59, 0)
  line L3 (7.59, 0) -> (9, 1.41)
  line L4 (9, 1.41) -> (9, 4.1354)
  arc A1 (9, 5.8646) -> (9, 4.1354) centre (9.25, 5) ccw
  line L5 (9, 5.8646) -> (9, 7.5)
  line L6 (9, 7.5) -> (-9, 7.5)
  line L7 (-9, 7.5) -> (-9, 5.8646)
extrude "Extrusion17" cut sketch "Sketch_22" along normal blind 35.9
sketch "Sketch_25" plane through (14.9, 0, 0) normal (1, 0, 0) x (0, 0, -1)
  arc A0 (-9.5, 4.1354) -> (-9.5, 5.8646) centre (-9.25, 5) ccw
  line L0 (-9.5, 4.1354) -> (-9.5, 1.41)
  line L1 (-9.5, 1.41) -> (-8.09, 0)
  line L2 (-8.09, 0) -> (8.09, 0)
  line L3 (8.09, 0) -> (9.5, 1.41)
  line L4 (9.5, 1.41) -> (9.5, 4.1354)
  arc A1 (9.5, 5.8646) -> (9.5, 4.1354) centre (9.25, 5) ccw
  line L5 (9.5, 5.8646) -> (9.5, 7)
  line L6 (9.5, 7) -> (-9.5, 7)
  line L7 (-9.5, 7) -> (-9.5, 5.8646)
extrude "Extrusion18" cut sketch "Sketch_25" against normal blind 1.5
ref_plane "sebs_way_p_XY" through (-17.95, 0, 0) normal (1, 0, 0) x (0, 0, -1)
ref_plane "sebs_way_p_YZ" through (-17.95, 0, 0) normal (0, 0, -1) x (0, 1, 0)
ref_plane "sebs_way_p_ZX" through (-17.95, 0, 0) normal (0, 1, 0) x (1, 0, 0)
properties part number "SEBS 9WA Slide"
